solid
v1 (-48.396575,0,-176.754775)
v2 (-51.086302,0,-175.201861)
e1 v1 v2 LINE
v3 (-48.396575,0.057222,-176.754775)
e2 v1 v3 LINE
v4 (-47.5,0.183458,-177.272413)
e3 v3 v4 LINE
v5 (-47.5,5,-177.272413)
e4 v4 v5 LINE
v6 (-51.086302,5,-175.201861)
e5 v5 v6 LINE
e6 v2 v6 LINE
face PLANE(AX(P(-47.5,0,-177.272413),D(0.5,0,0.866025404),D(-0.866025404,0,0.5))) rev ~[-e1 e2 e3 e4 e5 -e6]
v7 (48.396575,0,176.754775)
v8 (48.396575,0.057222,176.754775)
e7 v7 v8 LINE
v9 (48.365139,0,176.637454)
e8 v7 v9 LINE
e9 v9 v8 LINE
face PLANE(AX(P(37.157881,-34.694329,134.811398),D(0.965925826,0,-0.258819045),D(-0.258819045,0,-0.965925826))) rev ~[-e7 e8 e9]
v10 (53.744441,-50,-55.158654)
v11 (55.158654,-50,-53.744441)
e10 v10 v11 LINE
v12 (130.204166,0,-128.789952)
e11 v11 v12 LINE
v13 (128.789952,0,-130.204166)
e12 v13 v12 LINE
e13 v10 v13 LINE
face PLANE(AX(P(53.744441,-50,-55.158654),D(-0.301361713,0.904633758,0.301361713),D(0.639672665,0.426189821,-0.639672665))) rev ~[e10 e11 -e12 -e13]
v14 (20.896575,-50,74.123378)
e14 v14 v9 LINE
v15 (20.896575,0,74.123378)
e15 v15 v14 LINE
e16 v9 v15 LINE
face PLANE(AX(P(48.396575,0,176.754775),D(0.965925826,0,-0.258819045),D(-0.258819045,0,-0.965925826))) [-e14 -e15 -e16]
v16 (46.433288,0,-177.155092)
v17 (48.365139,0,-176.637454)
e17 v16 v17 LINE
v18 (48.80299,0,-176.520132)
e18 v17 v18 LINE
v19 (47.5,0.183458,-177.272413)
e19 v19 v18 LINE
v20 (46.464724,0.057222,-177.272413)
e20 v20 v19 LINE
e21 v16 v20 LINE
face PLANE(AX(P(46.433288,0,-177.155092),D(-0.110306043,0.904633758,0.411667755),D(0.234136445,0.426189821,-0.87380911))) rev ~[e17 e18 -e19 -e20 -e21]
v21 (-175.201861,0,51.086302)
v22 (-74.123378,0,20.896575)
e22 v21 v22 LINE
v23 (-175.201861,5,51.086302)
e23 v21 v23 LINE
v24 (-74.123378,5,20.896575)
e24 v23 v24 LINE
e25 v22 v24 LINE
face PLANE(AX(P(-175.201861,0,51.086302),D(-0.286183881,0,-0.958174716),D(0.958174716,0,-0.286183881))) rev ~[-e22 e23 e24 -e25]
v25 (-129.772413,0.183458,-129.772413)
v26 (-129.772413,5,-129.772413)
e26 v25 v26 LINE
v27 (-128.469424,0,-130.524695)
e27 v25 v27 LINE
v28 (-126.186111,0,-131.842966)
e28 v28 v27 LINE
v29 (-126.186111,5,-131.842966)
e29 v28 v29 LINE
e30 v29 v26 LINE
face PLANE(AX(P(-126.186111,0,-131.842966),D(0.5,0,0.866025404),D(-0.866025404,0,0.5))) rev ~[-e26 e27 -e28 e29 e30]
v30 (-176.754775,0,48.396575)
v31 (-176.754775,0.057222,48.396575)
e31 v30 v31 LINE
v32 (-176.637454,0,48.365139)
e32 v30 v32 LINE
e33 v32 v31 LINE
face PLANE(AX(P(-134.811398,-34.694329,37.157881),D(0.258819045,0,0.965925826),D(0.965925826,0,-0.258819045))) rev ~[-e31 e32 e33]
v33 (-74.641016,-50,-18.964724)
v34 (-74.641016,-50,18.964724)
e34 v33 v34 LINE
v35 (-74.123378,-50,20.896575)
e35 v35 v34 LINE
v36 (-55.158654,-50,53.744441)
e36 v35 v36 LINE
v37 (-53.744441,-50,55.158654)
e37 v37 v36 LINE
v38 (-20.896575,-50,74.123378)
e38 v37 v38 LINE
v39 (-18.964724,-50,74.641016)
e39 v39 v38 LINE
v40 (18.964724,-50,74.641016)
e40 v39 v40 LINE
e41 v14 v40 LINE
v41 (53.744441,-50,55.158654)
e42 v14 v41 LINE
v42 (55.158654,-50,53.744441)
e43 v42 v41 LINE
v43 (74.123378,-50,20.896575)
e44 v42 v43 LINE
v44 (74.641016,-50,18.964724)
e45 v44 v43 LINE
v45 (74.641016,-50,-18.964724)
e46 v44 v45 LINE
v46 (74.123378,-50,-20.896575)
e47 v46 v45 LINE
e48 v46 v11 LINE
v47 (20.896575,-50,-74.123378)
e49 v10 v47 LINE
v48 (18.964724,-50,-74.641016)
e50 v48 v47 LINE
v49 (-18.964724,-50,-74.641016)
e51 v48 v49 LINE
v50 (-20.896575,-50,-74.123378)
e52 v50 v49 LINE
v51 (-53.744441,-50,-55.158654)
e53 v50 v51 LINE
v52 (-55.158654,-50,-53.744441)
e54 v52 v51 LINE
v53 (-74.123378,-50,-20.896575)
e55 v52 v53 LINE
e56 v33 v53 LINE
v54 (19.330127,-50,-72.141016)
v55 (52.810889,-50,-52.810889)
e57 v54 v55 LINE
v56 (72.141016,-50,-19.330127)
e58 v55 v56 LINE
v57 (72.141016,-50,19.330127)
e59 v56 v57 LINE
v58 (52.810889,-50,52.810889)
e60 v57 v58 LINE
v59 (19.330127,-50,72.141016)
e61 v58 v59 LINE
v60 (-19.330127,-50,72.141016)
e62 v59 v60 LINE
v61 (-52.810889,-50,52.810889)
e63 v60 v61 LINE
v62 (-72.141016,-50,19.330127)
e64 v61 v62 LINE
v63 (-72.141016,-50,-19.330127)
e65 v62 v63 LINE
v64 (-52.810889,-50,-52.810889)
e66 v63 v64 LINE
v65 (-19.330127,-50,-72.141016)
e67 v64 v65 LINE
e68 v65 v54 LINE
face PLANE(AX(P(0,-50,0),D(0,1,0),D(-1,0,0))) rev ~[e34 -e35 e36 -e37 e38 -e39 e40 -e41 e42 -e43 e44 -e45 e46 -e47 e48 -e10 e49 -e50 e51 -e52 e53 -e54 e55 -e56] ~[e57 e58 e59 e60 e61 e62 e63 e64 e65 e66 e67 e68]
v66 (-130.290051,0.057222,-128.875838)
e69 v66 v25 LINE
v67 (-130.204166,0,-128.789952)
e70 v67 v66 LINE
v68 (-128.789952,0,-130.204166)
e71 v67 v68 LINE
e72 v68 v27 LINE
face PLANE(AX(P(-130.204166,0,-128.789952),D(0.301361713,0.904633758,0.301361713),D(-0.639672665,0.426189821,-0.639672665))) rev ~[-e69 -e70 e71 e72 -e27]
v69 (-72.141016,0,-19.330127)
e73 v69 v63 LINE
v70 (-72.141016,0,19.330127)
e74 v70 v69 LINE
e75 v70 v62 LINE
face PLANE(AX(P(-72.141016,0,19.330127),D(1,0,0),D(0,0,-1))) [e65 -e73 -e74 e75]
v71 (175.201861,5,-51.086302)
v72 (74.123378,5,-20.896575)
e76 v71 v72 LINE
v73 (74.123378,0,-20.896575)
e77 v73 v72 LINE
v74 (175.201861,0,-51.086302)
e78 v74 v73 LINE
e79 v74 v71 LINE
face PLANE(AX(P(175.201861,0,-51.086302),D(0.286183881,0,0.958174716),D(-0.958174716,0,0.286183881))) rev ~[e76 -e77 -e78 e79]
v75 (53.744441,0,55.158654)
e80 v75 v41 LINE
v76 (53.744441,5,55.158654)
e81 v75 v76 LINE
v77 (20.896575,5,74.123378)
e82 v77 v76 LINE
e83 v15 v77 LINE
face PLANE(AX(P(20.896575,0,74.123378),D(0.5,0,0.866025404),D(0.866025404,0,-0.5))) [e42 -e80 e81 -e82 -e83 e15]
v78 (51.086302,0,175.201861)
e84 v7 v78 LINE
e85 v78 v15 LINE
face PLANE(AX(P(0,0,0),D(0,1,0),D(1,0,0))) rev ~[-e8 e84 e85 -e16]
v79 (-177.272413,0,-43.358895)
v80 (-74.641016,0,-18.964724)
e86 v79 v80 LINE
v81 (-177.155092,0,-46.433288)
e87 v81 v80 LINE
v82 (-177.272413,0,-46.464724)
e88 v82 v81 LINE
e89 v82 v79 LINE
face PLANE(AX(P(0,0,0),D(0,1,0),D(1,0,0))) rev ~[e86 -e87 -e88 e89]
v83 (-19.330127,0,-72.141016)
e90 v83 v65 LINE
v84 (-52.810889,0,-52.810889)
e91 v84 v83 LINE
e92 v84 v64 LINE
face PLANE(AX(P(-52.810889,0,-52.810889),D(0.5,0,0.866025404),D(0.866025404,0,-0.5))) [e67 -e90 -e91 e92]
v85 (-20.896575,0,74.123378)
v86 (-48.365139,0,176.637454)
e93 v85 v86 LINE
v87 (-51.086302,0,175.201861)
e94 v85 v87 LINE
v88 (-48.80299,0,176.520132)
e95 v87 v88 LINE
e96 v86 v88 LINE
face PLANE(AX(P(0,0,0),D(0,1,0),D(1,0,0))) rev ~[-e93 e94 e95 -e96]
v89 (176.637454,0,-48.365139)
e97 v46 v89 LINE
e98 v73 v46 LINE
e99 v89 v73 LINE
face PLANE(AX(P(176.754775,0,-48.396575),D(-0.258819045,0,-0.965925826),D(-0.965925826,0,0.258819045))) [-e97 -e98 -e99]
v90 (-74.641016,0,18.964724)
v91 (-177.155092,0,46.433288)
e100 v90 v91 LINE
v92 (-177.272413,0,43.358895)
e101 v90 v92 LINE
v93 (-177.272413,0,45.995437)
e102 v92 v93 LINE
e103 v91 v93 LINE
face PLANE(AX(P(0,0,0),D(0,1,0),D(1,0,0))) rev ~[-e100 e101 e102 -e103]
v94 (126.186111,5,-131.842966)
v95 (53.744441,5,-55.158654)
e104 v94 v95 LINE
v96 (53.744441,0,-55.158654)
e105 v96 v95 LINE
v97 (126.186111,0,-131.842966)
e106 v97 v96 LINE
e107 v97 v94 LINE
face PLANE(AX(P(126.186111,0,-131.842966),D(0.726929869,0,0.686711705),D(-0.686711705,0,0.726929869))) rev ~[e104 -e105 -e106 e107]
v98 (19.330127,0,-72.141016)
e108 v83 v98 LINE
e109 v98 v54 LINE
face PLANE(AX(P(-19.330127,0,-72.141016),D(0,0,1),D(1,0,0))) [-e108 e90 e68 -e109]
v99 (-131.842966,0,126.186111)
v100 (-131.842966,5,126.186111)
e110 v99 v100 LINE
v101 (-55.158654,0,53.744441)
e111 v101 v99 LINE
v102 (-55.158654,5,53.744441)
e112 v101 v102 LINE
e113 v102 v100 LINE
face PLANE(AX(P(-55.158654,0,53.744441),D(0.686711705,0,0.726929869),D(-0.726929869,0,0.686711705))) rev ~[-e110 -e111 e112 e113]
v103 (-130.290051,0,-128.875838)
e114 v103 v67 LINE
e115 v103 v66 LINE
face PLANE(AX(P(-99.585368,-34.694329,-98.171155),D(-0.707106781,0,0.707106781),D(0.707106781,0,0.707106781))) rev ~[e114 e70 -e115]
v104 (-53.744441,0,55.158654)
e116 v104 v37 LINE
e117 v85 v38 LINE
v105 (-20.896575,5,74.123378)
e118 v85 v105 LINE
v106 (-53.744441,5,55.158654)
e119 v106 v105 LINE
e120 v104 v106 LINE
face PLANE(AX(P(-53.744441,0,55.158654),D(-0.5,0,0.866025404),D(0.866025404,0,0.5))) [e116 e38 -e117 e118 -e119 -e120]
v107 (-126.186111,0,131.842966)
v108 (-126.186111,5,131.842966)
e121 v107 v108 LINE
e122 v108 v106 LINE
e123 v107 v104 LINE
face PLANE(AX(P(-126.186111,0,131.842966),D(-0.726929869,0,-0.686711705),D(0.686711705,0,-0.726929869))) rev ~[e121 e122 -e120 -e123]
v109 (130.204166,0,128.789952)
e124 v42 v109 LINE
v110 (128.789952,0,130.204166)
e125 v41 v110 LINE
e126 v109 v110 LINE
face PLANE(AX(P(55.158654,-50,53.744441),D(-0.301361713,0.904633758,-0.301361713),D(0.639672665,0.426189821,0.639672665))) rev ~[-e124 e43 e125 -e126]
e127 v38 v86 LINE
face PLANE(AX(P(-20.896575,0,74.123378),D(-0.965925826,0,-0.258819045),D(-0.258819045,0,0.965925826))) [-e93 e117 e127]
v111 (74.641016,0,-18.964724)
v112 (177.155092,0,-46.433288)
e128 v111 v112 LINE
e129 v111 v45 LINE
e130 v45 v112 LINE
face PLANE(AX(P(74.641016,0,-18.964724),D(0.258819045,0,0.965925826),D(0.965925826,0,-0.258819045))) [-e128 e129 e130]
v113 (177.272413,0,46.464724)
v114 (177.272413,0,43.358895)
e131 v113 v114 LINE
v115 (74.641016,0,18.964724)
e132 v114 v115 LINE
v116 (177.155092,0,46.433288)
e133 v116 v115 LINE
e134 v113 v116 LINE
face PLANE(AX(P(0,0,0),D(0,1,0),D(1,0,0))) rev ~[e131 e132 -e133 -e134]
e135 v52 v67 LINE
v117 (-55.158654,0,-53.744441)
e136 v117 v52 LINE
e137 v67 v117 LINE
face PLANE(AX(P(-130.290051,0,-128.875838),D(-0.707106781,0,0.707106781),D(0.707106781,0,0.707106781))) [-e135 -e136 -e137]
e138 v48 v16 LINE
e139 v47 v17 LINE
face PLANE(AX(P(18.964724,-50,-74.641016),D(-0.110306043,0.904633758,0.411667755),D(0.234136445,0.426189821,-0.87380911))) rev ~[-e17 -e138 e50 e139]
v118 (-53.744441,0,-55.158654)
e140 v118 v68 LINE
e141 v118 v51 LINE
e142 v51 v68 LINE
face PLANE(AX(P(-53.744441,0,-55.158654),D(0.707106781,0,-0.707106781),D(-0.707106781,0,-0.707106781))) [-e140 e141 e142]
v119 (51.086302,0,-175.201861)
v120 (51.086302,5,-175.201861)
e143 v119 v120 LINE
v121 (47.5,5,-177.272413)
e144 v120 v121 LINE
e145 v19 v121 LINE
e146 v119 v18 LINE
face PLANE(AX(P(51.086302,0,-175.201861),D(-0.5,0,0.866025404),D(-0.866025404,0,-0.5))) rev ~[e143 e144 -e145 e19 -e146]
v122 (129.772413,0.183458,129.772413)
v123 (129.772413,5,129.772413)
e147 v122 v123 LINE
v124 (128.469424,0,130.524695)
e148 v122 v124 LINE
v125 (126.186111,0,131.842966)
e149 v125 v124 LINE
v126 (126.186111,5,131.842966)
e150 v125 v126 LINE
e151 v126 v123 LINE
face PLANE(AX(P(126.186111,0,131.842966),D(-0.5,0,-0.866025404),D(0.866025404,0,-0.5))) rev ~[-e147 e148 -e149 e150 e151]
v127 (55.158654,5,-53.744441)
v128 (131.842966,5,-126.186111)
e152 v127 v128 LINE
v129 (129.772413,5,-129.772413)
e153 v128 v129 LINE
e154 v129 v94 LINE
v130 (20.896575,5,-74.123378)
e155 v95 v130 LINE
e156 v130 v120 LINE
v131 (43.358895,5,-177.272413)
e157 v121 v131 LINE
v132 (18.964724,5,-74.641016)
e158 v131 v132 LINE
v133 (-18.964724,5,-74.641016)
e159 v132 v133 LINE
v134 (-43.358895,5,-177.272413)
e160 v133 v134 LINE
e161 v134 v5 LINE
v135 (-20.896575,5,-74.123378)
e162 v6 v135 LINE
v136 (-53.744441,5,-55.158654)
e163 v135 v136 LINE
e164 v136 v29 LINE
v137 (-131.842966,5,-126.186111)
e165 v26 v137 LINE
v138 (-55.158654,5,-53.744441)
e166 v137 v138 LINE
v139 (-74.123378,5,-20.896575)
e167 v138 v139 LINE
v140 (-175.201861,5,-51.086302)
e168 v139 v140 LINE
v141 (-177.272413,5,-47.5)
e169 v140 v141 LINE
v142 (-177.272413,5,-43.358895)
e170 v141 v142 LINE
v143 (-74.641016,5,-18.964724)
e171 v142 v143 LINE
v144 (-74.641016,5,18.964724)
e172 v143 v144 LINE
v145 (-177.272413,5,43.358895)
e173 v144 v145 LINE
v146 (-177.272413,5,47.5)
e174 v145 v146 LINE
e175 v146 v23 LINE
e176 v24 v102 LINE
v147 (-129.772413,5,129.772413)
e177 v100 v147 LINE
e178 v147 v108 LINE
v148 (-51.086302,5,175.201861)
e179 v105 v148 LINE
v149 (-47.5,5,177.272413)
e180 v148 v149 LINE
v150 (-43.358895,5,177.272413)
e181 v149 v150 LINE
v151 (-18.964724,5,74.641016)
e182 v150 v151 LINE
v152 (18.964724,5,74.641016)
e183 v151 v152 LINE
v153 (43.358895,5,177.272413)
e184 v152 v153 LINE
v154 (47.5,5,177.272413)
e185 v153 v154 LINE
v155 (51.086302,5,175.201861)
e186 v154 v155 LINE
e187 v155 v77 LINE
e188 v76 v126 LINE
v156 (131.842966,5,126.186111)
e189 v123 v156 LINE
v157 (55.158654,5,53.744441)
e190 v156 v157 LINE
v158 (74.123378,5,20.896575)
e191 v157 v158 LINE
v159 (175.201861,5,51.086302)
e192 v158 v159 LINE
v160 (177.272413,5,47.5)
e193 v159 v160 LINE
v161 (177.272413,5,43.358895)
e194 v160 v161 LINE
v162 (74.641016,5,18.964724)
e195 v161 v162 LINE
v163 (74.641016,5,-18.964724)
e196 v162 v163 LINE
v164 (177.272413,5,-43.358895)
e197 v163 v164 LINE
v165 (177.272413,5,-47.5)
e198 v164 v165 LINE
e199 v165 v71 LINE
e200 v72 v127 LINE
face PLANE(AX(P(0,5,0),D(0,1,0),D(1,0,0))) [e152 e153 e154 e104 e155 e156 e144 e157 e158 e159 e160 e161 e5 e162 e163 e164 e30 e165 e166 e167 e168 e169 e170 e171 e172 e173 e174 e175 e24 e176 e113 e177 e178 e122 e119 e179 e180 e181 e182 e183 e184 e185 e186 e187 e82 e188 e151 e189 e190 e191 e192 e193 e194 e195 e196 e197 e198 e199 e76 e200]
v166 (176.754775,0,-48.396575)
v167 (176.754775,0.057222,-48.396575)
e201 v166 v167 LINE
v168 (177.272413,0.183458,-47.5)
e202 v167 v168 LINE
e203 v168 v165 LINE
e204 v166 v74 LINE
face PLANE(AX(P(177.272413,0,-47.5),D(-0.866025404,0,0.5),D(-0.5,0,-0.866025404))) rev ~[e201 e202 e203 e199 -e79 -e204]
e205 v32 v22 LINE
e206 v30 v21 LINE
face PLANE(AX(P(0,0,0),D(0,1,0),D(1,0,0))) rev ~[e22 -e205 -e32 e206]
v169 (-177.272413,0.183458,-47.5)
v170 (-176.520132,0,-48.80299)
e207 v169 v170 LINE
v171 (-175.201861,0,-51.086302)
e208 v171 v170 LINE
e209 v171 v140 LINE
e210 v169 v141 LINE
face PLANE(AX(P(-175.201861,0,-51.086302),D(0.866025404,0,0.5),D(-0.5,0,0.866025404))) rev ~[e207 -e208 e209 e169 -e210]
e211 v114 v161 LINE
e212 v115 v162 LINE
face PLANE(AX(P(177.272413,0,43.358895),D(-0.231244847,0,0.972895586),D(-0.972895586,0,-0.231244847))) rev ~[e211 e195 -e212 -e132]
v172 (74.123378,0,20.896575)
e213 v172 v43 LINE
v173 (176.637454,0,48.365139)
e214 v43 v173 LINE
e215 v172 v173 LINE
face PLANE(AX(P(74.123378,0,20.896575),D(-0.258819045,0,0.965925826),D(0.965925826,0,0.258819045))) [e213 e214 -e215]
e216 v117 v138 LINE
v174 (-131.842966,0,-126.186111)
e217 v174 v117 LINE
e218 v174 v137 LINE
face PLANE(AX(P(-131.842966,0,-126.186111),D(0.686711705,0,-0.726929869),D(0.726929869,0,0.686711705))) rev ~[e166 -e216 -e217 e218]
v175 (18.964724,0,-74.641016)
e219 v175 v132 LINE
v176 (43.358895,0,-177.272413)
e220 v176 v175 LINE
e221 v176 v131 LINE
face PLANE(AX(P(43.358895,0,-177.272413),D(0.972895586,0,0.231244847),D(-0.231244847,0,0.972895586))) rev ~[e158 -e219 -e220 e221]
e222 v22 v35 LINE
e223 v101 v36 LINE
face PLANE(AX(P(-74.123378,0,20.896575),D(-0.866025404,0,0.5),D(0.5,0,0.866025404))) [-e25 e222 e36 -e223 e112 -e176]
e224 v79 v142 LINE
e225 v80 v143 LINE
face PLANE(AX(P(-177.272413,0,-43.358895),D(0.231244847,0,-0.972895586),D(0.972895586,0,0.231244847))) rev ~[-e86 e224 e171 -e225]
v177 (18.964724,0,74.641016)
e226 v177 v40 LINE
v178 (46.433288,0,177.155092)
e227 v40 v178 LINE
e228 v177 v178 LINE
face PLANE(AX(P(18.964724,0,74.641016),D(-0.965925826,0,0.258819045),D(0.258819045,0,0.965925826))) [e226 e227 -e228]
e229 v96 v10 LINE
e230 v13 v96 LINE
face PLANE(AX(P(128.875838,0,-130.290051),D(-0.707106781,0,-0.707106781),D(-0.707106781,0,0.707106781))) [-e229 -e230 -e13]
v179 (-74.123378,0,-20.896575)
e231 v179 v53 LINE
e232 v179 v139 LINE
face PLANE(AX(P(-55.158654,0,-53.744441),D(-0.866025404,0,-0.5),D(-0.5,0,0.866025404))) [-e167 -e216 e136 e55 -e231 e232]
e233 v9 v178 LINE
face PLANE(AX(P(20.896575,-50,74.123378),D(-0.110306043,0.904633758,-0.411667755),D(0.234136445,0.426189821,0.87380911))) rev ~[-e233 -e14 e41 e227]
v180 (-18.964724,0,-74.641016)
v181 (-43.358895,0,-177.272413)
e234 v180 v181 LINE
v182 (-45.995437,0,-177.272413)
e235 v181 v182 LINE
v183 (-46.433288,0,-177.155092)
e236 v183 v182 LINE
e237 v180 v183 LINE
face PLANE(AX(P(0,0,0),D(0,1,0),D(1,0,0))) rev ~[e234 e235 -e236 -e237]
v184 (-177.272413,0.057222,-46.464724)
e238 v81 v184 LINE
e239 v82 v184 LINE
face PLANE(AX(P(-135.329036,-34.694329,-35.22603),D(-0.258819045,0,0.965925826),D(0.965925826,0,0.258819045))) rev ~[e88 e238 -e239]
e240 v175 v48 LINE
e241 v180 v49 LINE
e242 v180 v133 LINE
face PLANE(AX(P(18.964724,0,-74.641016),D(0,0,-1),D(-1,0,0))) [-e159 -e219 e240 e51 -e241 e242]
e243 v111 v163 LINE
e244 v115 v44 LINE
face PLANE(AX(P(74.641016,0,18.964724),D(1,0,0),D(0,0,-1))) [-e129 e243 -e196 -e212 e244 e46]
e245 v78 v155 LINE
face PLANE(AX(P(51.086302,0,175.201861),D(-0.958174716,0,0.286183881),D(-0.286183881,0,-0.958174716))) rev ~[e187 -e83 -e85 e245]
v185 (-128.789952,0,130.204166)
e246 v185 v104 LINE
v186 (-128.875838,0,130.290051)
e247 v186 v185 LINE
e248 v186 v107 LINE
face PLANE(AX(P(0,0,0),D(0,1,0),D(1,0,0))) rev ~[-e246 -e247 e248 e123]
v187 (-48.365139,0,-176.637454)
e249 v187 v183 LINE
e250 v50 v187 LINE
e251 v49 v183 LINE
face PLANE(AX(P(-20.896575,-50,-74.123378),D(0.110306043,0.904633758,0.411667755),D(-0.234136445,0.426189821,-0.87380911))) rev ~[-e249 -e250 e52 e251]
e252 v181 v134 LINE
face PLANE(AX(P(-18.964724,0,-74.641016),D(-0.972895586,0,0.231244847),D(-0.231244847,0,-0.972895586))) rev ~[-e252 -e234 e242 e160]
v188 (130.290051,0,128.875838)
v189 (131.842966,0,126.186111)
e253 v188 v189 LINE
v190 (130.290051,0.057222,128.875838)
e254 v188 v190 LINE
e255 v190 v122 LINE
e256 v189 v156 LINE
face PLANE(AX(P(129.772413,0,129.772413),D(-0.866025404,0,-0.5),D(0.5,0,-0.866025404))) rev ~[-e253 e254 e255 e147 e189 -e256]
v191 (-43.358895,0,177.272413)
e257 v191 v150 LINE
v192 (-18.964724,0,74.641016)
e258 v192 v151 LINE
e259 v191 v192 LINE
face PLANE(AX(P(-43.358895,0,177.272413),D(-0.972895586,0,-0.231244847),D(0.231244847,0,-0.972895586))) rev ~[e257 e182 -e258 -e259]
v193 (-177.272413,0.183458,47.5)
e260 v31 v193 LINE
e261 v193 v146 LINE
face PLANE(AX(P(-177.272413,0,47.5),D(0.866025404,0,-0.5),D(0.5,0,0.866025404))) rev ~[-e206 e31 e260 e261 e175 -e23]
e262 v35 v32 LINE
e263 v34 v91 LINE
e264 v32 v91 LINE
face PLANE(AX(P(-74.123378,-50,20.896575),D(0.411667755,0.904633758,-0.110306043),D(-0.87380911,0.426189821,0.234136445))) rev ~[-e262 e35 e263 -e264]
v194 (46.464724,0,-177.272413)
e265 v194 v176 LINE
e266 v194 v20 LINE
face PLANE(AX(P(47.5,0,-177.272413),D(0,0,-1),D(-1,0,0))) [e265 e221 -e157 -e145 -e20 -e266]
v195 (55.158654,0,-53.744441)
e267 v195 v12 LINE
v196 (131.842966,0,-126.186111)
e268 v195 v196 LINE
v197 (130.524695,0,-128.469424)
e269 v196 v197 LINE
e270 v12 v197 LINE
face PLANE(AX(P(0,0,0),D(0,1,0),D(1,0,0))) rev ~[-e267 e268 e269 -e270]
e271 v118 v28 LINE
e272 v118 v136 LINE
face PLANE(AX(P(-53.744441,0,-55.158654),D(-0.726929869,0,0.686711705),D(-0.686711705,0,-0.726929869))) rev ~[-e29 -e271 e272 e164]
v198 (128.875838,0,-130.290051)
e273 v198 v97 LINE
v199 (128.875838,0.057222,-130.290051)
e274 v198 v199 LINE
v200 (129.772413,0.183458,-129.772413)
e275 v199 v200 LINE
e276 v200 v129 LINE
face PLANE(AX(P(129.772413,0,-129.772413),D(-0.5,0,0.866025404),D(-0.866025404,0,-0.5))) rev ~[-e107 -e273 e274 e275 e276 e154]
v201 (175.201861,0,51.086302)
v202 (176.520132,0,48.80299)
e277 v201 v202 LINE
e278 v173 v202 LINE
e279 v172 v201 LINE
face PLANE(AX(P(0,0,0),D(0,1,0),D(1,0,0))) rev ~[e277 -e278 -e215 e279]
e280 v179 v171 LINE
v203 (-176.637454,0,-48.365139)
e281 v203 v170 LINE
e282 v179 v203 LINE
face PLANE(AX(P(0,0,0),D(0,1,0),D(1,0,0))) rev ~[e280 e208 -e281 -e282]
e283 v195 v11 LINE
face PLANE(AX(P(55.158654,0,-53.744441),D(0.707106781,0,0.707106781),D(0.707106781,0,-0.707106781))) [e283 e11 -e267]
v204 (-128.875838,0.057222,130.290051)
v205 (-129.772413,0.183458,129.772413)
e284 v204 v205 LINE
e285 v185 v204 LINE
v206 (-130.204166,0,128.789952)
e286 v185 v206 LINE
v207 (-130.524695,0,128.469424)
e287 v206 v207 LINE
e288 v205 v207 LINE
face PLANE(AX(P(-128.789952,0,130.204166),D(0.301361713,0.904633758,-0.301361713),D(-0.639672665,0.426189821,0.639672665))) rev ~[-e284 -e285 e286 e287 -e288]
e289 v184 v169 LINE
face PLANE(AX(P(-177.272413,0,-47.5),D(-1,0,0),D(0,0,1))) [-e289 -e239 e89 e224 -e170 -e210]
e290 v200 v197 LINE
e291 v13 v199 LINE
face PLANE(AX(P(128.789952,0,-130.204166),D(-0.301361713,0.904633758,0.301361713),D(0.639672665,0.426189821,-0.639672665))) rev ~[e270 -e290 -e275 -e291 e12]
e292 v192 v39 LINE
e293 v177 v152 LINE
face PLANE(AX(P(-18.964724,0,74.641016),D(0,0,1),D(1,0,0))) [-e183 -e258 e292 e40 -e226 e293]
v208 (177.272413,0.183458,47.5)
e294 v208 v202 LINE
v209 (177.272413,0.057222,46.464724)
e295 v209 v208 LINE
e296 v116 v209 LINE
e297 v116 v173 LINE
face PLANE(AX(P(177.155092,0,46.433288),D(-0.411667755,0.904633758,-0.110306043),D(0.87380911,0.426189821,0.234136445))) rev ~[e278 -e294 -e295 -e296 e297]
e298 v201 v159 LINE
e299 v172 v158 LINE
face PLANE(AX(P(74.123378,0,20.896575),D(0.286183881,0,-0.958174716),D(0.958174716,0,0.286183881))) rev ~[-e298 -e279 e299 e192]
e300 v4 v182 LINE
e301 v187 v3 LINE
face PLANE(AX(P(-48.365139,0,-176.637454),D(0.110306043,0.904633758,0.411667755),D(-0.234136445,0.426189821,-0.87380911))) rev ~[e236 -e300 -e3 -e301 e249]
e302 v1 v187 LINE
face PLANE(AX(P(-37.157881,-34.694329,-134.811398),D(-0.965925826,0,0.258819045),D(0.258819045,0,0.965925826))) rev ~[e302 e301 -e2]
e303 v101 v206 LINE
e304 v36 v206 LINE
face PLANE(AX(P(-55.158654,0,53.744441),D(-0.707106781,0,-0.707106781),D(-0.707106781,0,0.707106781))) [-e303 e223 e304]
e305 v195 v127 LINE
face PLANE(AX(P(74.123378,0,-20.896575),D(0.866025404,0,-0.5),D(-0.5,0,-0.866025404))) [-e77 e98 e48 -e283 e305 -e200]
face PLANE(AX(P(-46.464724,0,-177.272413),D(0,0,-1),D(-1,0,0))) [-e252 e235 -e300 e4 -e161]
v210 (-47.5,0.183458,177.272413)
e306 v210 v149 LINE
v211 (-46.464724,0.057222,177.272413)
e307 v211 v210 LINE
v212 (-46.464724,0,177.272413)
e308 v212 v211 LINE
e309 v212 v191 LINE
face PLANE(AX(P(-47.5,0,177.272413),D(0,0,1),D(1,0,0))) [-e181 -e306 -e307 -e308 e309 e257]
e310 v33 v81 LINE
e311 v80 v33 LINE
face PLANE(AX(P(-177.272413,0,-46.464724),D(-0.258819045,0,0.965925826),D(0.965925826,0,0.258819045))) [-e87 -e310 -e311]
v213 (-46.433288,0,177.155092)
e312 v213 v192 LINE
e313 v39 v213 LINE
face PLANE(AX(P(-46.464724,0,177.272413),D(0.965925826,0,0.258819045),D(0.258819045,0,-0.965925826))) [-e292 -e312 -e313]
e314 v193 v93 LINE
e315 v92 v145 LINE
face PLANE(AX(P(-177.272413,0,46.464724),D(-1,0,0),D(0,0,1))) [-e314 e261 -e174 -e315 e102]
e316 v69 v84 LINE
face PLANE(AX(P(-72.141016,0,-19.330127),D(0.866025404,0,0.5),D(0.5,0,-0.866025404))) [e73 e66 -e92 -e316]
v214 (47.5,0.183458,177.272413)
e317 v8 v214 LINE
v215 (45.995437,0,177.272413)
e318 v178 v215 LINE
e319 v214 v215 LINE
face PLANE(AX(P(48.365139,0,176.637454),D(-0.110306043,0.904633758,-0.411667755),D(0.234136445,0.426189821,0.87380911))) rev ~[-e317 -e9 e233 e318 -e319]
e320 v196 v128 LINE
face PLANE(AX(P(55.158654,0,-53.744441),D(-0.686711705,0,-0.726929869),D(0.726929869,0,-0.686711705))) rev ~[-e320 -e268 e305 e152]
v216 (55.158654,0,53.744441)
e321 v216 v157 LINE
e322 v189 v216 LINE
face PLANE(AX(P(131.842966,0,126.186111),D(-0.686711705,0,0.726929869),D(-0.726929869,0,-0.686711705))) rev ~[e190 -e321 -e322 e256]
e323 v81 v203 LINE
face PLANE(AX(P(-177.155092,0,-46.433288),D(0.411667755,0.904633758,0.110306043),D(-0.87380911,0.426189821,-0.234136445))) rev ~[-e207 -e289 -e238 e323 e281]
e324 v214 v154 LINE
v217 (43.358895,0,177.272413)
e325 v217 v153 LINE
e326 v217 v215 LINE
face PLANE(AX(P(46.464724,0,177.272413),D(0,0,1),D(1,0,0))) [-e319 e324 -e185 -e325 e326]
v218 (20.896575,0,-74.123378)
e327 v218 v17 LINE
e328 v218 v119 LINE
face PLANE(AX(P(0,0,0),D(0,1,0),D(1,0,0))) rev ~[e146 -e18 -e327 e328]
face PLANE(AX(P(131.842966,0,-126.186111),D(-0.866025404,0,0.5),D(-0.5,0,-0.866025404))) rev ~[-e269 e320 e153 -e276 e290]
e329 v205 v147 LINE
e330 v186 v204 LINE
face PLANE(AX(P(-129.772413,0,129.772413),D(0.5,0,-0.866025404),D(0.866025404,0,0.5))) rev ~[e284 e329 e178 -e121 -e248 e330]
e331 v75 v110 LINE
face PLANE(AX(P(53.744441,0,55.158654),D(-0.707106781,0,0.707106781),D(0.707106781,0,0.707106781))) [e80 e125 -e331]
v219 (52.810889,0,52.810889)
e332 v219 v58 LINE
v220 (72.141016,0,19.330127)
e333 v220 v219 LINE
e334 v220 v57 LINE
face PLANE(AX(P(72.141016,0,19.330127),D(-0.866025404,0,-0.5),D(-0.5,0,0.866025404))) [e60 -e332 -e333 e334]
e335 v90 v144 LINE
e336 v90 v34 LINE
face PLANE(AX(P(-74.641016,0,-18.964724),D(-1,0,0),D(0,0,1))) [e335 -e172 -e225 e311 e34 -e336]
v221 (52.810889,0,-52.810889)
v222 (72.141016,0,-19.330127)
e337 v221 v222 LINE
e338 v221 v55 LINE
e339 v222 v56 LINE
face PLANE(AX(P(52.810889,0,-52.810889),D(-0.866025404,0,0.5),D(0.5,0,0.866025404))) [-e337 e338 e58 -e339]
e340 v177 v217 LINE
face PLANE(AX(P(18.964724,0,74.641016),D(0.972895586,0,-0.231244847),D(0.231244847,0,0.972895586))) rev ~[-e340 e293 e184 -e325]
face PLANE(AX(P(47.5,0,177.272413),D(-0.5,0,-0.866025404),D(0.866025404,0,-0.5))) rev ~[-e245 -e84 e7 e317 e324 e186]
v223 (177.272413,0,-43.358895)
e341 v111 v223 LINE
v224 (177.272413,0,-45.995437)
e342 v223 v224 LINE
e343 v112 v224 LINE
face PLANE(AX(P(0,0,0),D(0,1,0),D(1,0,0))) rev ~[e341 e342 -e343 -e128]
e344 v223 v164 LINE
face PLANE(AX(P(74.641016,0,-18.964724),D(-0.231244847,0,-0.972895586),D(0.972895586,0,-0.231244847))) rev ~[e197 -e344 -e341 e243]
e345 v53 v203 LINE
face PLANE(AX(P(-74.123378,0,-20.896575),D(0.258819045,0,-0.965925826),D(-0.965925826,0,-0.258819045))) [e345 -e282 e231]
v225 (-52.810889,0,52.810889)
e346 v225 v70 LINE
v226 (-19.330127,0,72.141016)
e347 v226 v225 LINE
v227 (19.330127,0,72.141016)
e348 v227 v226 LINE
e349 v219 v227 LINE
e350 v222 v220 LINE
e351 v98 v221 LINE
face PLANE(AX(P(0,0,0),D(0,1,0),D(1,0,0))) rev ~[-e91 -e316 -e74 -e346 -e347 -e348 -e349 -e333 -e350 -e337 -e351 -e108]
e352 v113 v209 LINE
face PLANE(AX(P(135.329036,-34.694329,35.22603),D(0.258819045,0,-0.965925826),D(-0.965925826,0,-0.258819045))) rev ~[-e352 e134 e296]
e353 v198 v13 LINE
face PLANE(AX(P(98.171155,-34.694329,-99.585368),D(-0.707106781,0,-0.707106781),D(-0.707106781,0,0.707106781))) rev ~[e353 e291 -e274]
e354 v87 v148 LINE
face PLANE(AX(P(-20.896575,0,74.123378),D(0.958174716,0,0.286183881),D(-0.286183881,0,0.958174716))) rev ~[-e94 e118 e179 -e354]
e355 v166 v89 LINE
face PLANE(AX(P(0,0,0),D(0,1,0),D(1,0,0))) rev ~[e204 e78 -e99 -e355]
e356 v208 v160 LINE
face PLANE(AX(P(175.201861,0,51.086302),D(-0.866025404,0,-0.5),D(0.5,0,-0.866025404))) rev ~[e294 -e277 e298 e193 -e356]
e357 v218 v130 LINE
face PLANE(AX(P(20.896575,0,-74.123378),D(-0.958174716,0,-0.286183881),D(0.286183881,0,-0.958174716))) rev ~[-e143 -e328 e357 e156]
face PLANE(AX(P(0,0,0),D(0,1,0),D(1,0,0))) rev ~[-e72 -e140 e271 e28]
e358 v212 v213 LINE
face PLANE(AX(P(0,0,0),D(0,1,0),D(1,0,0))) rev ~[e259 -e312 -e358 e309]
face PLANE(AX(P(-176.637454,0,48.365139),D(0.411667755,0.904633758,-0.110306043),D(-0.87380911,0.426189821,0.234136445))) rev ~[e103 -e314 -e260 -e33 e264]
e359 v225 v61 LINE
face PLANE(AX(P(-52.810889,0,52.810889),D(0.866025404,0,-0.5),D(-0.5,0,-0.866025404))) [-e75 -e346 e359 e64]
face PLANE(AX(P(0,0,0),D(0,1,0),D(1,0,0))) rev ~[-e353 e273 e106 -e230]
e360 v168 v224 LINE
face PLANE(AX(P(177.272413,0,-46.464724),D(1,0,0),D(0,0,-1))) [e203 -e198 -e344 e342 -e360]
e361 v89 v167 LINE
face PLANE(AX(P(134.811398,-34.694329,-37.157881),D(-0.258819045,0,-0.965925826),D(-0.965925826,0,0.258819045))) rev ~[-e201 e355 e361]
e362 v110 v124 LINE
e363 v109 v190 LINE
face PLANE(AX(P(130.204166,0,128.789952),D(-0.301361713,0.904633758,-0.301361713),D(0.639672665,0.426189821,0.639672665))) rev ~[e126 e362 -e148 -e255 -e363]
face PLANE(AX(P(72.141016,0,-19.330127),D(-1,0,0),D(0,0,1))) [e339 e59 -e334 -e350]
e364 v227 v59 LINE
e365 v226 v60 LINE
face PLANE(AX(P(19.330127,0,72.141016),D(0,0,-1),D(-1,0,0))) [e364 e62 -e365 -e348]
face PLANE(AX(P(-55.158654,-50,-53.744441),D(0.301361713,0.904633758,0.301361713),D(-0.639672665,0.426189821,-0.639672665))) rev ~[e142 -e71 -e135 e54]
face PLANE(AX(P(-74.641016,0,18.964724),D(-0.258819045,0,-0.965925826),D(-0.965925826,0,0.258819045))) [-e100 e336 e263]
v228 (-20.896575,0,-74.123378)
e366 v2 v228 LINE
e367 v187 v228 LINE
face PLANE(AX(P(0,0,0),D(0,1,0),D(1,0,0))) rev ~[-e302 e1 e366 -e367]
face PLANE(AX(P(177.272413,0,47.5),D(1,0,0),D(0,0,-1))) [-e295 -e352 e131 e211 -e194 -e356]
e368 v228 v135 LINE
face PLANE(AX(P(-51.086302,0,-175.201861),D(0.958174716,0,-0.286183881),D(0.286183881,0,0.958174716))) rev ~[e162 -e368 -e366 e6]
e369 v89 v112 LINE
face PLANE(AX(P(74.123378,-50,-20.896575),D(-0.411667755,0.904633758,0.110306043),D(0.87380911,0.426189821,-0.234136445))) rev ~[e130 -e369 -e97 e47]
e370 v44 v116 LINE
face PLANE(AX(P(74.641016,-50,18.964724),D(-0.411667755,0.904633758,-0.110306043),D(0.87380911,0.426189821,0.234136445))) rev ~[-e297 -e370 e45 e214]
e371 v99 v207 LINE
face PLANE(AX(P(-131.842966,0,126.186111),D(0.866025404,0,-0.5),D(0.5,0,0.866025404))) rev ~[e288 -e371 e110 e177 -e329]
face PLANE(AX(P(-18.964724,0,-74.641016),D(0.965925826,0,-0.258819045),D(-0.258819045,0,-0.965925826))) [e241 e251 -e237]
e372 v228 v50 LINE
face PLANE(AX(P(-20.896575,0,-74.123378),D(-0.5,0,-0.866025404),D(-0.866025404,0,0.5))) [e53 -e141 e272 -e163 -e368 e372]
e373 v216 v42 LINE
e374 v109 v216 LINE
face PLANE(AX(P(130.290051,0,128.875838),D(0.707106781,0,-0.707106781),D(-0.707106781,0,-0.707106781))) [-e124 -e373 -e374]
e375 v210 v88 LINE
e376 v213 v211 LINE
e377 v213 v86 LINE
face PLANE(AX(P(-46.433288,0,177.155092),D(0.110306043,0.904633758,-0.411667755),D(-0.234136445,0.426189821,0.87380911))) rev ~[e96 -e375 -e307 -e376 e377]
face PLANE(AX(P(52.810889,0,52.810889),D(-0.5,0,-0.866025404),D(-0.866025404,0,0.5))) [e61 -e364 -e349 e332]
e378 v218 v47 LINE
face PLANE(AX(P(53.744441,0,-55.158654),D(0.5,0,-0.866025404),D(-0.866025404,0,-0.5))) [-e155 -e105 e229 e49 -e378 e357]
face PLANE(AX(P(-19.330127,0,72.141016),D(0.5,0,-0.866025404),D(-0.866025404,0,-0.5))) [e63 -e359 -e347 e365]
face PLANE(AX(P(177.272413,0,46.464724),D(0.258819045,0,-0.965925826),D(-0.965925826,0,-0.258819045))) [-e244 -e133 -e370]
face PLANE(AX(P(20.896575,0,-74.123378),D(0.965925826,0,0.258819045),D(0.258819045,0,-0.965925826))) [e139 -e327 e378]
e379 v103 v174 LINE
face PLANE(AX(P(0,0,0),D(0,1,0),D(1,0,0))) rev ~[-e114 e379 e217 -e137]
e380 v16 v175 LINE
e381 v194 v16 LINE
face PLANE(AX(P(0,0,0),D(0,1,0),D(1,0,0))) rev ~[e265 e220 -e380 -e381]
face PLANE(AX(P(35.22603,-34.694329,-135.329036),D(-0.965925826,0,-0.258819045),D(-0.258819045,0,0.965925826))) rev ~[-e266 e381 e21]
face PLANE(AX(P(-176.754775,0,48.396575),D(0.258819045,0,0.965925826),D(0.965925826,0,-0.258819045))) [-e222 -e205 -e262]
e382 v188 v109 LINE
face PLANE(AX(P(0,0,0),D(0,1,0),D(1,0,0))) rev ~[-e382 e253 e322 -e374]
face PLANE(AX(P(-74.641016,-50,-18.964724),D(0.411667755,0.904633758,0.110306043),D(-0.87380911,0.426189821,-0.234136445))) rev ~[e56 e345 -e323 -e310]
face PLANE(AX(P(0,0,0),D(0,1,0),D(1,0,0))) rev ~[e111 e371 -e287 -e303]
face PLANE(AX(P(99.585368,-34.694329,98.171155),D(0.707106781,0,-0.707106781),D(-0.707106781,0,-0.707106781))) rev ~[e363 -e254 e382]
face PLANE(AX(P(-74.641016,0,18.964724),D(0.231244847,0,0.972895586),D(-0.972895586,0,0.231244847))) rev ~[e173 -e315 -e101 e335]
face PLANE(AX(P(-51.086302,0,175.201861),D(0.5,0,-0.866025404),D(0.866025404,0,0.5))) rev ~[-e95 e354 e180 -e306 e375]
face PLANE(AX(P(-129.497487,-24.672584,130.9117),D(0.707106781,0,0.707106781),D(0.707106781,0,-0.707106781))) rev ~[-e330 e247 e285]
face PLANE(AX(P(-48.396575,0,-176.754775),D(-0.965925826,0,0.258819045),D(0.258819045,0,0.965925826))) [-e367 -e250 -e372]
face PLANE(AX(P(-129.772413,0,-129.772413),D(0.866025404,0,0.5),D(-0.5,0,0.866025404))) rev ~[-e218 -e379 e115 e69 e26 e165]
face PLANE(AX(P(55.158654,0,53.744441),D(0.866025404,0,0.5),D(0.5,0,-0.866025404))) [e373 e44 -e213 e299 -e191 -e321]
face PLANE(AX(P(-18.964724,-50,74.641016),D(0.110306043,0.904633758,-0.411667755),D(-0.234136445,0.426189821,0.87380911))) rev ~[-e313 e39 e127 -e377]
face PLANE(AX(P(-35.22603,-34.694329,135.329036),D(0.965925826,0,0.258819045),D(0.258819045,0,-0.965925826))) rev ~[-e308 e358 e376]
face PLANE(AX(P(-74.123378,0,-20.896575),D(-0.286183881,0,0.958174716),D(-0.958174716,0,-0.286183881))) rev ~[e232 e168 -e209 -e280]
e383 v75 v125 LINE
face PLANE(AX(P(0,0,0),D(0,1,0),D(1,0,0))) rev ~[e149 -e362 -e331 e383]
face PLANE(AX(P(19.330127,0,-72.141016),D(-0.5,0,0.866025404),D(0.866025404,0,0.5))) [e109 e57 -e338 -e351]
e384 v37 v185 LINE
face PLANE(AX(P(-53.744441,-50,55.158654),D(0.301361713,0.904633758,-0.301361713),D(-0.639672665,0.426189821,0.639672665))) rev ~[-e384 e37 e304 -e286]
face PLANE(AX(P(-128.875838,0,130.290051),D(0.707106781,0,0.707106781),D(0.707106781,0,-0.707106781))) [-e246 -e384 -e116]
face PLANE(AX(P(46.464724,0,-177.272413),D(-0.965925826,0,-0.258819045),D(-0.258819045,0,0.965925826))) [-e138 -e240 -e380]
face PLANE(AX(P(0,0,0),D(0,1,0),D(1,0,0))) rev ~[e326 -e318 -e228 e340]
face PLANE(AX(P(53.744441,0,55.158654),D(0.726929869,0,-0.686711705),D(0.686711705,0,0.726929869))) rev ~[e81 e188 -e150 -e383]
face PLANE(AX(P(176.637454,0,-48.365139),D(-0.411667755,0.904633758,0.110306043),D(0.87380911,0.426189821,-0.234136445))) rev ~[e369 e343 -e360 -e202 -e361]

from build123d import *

# Parameters (mm, degrees)
BOSS_EXTRUDE1_DEPTH = 5
BOSS_EXTRUDE2_DEPTH = 50
CUT_EXTRUDE2_REACH  = 258.619
CIRPATTERN1_COUNT   = 12


with BuildPart() as part:
    # Sketch1 → Boss-Extrude1 (new body)
    with BuildSketch(Plane(origin=(0, 0, 0), x_dir=(1, 0, 0), z_dir=(0, 1, 0))):
        Polygon((-51.086301889, 175.201860999), (-20.896575472, 74.123378061), (-53.744440679, 55.158654242), (-126.186111471, 131.84296572), (-129.77241336, 129.77241336), (-131.84296572, 126.186111471), (-55.158654242, 53.744440679), (-74.123378061, 20.896575472), (-175.201860999, 51.086301889), (-177.27241336, 47.5), (-177.27241336, 43.358895278), (-74.641016151, 18.96472382), (-74.641016151, -18.96472382), (-177.27241336, -43.358895278), (-177.27241336, -47.5), (-175.201860999, -51.086301889), (-74.123378061, -20.896575472), (-55.158654242, -53.744440679), (-131.84296572, -126.186111471), (-129.77241336, -129.77241336), (-126.186111471, -131.84296572), (-53.744440679, -55.158654242), (-20.896575472, -74.123378061), (-51.086301889, -175.201860999), (-47.5, -177.27241336), (-43.358895278, -177.27241336), (-18.96472382, -74.641016151), (18.96472382, -74.641016151), (43.358895278, -177.27241336), (47.5, -177.27241336), (51.086301889, -175.201860999), (20.896575472, -74.123378061), (53.744440679, -55.158654242), (126.186111471, -131.84296572), (129.77241336, -129.77241336), (131.84296572, -126.186111471), (55.158654242, -53.744440679), (74.123378061, -20.896575472), (175.201860999, -51.086301889), (177.27241336, -47.5), (177.27241336, -43.358895278), (74.641016151, -18.96472382), (74.641016151, 18.96472382), (177.27241336, 43.358895278), (177.27241336, 47.5), (175.201860999, 51.086301889), (74.123378061, 20.896575472), (55.158654242, 53.744440679), (131.84296572, 126.186111471), (129.77241336, 129.77241336), (126.186111471, 131.84296572), (53.744440679, 55.158654242), (20.896575472, 74.123378061), (51.086301889, 175.201860999), (47.5, 177.27241336), (43.358895278, 177.27241336), (18.96472382, 74.641016151), (-18.96472382, 74.641016151), (-43.358895278, 177.27241336), (-47.5, 177.27241336), align=None)
    extrude(amount=BOSS_EXTRUDE1_DEPTH)

    # Sketch2 → Boss-Extrude2 (add)
    with BuildSketch(Plane.XZ):
        Polygon((-20.896575472, 74.123378061), (-48.396575472, 176.754775269), (-47.5, 177.27241336), (-46.46472382, 177.27241336), (-18.96472382, 74.641016151), (18.96472382, 74.641016151), (46.46472382, 177.27241336), (47.5, 177.27241336), (48.396575472, 176.754775269), (20.896575472, 74.123378061), (53.744440679, 55.158654242), (128.875837887, 130.29005145), (129.77241336, 129.77241336), (130.29005145, 128.875837887), (55.158654242, 53.744440679), (74.123378061, 20.896575472), (176.754775269, 48.396575472), (177.27241336, 47.5), (177.27241336, 46.46472382), (74.641016151, 18.96472382), (74.641016151, -18.96472382), (177.27241336, -46.46472382), (177.27241336, -47.5), (176.754775269, -48.396575472), (74.123378061, -20.896575472), (55.158654242, -53.744440679), (130.29005145, -128.875837887), (129.77241336, -129.77241336), (128.875837887, -130.29005145), (53.744440679, -55.158654242), (20.896575472, -74.123378061), (48.396575472, -176.754775269), (47.5, -177.27241336), (46.46472382, -177.27241336), (18.96472382, -74.641016151), (-18.96472382, -74.641016151), (-46.46472382, -177.27241336), (-47.5, -177.27241336), (-48.396575472, -176.754775269), (-20.896575472, -74.123378061), (-53.744440679, -55.158654242), (-128.875837887, -130.29005145), (-129.77241336, -129.77241336), (-130.29005145, -128.875837887), (-55.158654242, -53.744440679), (-74.123378061, -20.896575472), (-176.754775269, -48.396575472), (-177.27241336, -47.5), (-177.27241336, -46.46472382), (-74.641016151, -18.96472382), (-74.641016151, 18.96472382), (-177.27241336, 46.46472382), (-177.27241336, 47.5), (-176.754775269, 48.396575472), (-74.123378061, 20.896575472), (-55.158654242, 53.744440679), (-130.29005145, 128.875837887), (-129.77241336, 129.77241336), (-128.875837887, 130.29005145), (-53.744440679, 55.158654242), align=None)
        Polygon((-19.330127019, 72.141016151), (-52.810889132, 52.810889132), (-72.141016151, 19.330127019), (-72.141016151, -19.330127019), (-52.810889132, -52.810889132), (-19.330127019, -72.141016151), (19.330127019, -72.141016151), (52.810889132, -52.810889132), (72.141016151, -19.330127019), (72.141016151, 19.330127019), (52.810889132, 52.810889132), (19.330127019, 72.141016151), align=None, mode=Mode.SUBTRACT)
    extrude(amount=BOSS_EXTRUDE2_DEPTH)

    # Sketch4 → Cut-Extrude2 (cut, up to next)
    with BuildSketch(Plane(origin=(0.7071067811855712, 0, 0.7071067811855722), x_dir=(0.7071067811865479, 0, -0.7071067811865471), z_dir=(0.7071067811865471, 0, 0.7071067811865479)), mode=Mode.PRIVATE) as cut_extrude2_sk1:
        Polygon((-77.006116911, -50), (-183.136497491, 0), (-183.257957802, 0), (-183.257957802, -50), align=None)
    cut_extrude2_tool1 = extrude(cut_extrude2_sk1.sketch, amount=-CUT_EXTRUDE2_REACH, mode=Mode.PRIVATE) & part.part
    # Sketch4 → Cut-Extrude2 (cut, up to next)
    with BuildSketch(Plane(origin=(0.7071067811855712, 0, 0.7071067811855722), x_dir=(0.7071067811865479, 0, -0.7071067811865471), z_dir=(0.7071067811865471, 0, 0.7071067811865479)), mode=Mode.PRIVATE) as cut_extrude2_sk2:
        Polygon((-183.136497491, 0), (-185.006116911, 0.880812549), (-185.006116911, -50), (-183.257957802, -50), (-183.257957802, 0), align=None)
    cut_extrude2_tool2 = extrude(cut_extrude2_sk2.sketch, amount=-CUT_EXTRUDE2_REACH, mode=Mode.PRIVATE) & part.part
    cut_extrude2_1 = cut_extrude2_tool1.solids().sort_by_distance((-103.832006, -33.314303, 105.24622))[0]
    add(cut_extrude2_1, mode=Mode.SUBTRACT)
    cut_extrude2_2 = cut_extrude2_tool2.solids().sort_by_distance((-129.495561, -24.763955, 130.909775))[0]
    add(cut_extrude2_2, mode=Mode.SUBTRACT)
    cut_extrude2 = cut_extrude2_1 + cut_extrude2_2  # Cut-Extrude2 as one shape, for the pattern or mirror that repeats it

    # CirPattern1: Cut-Extrude2 ×12 about axis
    cirpattern1_axis = Axis((0, 0, 0), (0, 1, 0))
    for i in range(1, CIRPATTERN1_COUNT):
        add(cut_extrude2.rotate(cirpattern1_axis, i * 360 / CIRPATTERN1_COUNT), mode=Mode.SUBTRACT)


solid = part.part
